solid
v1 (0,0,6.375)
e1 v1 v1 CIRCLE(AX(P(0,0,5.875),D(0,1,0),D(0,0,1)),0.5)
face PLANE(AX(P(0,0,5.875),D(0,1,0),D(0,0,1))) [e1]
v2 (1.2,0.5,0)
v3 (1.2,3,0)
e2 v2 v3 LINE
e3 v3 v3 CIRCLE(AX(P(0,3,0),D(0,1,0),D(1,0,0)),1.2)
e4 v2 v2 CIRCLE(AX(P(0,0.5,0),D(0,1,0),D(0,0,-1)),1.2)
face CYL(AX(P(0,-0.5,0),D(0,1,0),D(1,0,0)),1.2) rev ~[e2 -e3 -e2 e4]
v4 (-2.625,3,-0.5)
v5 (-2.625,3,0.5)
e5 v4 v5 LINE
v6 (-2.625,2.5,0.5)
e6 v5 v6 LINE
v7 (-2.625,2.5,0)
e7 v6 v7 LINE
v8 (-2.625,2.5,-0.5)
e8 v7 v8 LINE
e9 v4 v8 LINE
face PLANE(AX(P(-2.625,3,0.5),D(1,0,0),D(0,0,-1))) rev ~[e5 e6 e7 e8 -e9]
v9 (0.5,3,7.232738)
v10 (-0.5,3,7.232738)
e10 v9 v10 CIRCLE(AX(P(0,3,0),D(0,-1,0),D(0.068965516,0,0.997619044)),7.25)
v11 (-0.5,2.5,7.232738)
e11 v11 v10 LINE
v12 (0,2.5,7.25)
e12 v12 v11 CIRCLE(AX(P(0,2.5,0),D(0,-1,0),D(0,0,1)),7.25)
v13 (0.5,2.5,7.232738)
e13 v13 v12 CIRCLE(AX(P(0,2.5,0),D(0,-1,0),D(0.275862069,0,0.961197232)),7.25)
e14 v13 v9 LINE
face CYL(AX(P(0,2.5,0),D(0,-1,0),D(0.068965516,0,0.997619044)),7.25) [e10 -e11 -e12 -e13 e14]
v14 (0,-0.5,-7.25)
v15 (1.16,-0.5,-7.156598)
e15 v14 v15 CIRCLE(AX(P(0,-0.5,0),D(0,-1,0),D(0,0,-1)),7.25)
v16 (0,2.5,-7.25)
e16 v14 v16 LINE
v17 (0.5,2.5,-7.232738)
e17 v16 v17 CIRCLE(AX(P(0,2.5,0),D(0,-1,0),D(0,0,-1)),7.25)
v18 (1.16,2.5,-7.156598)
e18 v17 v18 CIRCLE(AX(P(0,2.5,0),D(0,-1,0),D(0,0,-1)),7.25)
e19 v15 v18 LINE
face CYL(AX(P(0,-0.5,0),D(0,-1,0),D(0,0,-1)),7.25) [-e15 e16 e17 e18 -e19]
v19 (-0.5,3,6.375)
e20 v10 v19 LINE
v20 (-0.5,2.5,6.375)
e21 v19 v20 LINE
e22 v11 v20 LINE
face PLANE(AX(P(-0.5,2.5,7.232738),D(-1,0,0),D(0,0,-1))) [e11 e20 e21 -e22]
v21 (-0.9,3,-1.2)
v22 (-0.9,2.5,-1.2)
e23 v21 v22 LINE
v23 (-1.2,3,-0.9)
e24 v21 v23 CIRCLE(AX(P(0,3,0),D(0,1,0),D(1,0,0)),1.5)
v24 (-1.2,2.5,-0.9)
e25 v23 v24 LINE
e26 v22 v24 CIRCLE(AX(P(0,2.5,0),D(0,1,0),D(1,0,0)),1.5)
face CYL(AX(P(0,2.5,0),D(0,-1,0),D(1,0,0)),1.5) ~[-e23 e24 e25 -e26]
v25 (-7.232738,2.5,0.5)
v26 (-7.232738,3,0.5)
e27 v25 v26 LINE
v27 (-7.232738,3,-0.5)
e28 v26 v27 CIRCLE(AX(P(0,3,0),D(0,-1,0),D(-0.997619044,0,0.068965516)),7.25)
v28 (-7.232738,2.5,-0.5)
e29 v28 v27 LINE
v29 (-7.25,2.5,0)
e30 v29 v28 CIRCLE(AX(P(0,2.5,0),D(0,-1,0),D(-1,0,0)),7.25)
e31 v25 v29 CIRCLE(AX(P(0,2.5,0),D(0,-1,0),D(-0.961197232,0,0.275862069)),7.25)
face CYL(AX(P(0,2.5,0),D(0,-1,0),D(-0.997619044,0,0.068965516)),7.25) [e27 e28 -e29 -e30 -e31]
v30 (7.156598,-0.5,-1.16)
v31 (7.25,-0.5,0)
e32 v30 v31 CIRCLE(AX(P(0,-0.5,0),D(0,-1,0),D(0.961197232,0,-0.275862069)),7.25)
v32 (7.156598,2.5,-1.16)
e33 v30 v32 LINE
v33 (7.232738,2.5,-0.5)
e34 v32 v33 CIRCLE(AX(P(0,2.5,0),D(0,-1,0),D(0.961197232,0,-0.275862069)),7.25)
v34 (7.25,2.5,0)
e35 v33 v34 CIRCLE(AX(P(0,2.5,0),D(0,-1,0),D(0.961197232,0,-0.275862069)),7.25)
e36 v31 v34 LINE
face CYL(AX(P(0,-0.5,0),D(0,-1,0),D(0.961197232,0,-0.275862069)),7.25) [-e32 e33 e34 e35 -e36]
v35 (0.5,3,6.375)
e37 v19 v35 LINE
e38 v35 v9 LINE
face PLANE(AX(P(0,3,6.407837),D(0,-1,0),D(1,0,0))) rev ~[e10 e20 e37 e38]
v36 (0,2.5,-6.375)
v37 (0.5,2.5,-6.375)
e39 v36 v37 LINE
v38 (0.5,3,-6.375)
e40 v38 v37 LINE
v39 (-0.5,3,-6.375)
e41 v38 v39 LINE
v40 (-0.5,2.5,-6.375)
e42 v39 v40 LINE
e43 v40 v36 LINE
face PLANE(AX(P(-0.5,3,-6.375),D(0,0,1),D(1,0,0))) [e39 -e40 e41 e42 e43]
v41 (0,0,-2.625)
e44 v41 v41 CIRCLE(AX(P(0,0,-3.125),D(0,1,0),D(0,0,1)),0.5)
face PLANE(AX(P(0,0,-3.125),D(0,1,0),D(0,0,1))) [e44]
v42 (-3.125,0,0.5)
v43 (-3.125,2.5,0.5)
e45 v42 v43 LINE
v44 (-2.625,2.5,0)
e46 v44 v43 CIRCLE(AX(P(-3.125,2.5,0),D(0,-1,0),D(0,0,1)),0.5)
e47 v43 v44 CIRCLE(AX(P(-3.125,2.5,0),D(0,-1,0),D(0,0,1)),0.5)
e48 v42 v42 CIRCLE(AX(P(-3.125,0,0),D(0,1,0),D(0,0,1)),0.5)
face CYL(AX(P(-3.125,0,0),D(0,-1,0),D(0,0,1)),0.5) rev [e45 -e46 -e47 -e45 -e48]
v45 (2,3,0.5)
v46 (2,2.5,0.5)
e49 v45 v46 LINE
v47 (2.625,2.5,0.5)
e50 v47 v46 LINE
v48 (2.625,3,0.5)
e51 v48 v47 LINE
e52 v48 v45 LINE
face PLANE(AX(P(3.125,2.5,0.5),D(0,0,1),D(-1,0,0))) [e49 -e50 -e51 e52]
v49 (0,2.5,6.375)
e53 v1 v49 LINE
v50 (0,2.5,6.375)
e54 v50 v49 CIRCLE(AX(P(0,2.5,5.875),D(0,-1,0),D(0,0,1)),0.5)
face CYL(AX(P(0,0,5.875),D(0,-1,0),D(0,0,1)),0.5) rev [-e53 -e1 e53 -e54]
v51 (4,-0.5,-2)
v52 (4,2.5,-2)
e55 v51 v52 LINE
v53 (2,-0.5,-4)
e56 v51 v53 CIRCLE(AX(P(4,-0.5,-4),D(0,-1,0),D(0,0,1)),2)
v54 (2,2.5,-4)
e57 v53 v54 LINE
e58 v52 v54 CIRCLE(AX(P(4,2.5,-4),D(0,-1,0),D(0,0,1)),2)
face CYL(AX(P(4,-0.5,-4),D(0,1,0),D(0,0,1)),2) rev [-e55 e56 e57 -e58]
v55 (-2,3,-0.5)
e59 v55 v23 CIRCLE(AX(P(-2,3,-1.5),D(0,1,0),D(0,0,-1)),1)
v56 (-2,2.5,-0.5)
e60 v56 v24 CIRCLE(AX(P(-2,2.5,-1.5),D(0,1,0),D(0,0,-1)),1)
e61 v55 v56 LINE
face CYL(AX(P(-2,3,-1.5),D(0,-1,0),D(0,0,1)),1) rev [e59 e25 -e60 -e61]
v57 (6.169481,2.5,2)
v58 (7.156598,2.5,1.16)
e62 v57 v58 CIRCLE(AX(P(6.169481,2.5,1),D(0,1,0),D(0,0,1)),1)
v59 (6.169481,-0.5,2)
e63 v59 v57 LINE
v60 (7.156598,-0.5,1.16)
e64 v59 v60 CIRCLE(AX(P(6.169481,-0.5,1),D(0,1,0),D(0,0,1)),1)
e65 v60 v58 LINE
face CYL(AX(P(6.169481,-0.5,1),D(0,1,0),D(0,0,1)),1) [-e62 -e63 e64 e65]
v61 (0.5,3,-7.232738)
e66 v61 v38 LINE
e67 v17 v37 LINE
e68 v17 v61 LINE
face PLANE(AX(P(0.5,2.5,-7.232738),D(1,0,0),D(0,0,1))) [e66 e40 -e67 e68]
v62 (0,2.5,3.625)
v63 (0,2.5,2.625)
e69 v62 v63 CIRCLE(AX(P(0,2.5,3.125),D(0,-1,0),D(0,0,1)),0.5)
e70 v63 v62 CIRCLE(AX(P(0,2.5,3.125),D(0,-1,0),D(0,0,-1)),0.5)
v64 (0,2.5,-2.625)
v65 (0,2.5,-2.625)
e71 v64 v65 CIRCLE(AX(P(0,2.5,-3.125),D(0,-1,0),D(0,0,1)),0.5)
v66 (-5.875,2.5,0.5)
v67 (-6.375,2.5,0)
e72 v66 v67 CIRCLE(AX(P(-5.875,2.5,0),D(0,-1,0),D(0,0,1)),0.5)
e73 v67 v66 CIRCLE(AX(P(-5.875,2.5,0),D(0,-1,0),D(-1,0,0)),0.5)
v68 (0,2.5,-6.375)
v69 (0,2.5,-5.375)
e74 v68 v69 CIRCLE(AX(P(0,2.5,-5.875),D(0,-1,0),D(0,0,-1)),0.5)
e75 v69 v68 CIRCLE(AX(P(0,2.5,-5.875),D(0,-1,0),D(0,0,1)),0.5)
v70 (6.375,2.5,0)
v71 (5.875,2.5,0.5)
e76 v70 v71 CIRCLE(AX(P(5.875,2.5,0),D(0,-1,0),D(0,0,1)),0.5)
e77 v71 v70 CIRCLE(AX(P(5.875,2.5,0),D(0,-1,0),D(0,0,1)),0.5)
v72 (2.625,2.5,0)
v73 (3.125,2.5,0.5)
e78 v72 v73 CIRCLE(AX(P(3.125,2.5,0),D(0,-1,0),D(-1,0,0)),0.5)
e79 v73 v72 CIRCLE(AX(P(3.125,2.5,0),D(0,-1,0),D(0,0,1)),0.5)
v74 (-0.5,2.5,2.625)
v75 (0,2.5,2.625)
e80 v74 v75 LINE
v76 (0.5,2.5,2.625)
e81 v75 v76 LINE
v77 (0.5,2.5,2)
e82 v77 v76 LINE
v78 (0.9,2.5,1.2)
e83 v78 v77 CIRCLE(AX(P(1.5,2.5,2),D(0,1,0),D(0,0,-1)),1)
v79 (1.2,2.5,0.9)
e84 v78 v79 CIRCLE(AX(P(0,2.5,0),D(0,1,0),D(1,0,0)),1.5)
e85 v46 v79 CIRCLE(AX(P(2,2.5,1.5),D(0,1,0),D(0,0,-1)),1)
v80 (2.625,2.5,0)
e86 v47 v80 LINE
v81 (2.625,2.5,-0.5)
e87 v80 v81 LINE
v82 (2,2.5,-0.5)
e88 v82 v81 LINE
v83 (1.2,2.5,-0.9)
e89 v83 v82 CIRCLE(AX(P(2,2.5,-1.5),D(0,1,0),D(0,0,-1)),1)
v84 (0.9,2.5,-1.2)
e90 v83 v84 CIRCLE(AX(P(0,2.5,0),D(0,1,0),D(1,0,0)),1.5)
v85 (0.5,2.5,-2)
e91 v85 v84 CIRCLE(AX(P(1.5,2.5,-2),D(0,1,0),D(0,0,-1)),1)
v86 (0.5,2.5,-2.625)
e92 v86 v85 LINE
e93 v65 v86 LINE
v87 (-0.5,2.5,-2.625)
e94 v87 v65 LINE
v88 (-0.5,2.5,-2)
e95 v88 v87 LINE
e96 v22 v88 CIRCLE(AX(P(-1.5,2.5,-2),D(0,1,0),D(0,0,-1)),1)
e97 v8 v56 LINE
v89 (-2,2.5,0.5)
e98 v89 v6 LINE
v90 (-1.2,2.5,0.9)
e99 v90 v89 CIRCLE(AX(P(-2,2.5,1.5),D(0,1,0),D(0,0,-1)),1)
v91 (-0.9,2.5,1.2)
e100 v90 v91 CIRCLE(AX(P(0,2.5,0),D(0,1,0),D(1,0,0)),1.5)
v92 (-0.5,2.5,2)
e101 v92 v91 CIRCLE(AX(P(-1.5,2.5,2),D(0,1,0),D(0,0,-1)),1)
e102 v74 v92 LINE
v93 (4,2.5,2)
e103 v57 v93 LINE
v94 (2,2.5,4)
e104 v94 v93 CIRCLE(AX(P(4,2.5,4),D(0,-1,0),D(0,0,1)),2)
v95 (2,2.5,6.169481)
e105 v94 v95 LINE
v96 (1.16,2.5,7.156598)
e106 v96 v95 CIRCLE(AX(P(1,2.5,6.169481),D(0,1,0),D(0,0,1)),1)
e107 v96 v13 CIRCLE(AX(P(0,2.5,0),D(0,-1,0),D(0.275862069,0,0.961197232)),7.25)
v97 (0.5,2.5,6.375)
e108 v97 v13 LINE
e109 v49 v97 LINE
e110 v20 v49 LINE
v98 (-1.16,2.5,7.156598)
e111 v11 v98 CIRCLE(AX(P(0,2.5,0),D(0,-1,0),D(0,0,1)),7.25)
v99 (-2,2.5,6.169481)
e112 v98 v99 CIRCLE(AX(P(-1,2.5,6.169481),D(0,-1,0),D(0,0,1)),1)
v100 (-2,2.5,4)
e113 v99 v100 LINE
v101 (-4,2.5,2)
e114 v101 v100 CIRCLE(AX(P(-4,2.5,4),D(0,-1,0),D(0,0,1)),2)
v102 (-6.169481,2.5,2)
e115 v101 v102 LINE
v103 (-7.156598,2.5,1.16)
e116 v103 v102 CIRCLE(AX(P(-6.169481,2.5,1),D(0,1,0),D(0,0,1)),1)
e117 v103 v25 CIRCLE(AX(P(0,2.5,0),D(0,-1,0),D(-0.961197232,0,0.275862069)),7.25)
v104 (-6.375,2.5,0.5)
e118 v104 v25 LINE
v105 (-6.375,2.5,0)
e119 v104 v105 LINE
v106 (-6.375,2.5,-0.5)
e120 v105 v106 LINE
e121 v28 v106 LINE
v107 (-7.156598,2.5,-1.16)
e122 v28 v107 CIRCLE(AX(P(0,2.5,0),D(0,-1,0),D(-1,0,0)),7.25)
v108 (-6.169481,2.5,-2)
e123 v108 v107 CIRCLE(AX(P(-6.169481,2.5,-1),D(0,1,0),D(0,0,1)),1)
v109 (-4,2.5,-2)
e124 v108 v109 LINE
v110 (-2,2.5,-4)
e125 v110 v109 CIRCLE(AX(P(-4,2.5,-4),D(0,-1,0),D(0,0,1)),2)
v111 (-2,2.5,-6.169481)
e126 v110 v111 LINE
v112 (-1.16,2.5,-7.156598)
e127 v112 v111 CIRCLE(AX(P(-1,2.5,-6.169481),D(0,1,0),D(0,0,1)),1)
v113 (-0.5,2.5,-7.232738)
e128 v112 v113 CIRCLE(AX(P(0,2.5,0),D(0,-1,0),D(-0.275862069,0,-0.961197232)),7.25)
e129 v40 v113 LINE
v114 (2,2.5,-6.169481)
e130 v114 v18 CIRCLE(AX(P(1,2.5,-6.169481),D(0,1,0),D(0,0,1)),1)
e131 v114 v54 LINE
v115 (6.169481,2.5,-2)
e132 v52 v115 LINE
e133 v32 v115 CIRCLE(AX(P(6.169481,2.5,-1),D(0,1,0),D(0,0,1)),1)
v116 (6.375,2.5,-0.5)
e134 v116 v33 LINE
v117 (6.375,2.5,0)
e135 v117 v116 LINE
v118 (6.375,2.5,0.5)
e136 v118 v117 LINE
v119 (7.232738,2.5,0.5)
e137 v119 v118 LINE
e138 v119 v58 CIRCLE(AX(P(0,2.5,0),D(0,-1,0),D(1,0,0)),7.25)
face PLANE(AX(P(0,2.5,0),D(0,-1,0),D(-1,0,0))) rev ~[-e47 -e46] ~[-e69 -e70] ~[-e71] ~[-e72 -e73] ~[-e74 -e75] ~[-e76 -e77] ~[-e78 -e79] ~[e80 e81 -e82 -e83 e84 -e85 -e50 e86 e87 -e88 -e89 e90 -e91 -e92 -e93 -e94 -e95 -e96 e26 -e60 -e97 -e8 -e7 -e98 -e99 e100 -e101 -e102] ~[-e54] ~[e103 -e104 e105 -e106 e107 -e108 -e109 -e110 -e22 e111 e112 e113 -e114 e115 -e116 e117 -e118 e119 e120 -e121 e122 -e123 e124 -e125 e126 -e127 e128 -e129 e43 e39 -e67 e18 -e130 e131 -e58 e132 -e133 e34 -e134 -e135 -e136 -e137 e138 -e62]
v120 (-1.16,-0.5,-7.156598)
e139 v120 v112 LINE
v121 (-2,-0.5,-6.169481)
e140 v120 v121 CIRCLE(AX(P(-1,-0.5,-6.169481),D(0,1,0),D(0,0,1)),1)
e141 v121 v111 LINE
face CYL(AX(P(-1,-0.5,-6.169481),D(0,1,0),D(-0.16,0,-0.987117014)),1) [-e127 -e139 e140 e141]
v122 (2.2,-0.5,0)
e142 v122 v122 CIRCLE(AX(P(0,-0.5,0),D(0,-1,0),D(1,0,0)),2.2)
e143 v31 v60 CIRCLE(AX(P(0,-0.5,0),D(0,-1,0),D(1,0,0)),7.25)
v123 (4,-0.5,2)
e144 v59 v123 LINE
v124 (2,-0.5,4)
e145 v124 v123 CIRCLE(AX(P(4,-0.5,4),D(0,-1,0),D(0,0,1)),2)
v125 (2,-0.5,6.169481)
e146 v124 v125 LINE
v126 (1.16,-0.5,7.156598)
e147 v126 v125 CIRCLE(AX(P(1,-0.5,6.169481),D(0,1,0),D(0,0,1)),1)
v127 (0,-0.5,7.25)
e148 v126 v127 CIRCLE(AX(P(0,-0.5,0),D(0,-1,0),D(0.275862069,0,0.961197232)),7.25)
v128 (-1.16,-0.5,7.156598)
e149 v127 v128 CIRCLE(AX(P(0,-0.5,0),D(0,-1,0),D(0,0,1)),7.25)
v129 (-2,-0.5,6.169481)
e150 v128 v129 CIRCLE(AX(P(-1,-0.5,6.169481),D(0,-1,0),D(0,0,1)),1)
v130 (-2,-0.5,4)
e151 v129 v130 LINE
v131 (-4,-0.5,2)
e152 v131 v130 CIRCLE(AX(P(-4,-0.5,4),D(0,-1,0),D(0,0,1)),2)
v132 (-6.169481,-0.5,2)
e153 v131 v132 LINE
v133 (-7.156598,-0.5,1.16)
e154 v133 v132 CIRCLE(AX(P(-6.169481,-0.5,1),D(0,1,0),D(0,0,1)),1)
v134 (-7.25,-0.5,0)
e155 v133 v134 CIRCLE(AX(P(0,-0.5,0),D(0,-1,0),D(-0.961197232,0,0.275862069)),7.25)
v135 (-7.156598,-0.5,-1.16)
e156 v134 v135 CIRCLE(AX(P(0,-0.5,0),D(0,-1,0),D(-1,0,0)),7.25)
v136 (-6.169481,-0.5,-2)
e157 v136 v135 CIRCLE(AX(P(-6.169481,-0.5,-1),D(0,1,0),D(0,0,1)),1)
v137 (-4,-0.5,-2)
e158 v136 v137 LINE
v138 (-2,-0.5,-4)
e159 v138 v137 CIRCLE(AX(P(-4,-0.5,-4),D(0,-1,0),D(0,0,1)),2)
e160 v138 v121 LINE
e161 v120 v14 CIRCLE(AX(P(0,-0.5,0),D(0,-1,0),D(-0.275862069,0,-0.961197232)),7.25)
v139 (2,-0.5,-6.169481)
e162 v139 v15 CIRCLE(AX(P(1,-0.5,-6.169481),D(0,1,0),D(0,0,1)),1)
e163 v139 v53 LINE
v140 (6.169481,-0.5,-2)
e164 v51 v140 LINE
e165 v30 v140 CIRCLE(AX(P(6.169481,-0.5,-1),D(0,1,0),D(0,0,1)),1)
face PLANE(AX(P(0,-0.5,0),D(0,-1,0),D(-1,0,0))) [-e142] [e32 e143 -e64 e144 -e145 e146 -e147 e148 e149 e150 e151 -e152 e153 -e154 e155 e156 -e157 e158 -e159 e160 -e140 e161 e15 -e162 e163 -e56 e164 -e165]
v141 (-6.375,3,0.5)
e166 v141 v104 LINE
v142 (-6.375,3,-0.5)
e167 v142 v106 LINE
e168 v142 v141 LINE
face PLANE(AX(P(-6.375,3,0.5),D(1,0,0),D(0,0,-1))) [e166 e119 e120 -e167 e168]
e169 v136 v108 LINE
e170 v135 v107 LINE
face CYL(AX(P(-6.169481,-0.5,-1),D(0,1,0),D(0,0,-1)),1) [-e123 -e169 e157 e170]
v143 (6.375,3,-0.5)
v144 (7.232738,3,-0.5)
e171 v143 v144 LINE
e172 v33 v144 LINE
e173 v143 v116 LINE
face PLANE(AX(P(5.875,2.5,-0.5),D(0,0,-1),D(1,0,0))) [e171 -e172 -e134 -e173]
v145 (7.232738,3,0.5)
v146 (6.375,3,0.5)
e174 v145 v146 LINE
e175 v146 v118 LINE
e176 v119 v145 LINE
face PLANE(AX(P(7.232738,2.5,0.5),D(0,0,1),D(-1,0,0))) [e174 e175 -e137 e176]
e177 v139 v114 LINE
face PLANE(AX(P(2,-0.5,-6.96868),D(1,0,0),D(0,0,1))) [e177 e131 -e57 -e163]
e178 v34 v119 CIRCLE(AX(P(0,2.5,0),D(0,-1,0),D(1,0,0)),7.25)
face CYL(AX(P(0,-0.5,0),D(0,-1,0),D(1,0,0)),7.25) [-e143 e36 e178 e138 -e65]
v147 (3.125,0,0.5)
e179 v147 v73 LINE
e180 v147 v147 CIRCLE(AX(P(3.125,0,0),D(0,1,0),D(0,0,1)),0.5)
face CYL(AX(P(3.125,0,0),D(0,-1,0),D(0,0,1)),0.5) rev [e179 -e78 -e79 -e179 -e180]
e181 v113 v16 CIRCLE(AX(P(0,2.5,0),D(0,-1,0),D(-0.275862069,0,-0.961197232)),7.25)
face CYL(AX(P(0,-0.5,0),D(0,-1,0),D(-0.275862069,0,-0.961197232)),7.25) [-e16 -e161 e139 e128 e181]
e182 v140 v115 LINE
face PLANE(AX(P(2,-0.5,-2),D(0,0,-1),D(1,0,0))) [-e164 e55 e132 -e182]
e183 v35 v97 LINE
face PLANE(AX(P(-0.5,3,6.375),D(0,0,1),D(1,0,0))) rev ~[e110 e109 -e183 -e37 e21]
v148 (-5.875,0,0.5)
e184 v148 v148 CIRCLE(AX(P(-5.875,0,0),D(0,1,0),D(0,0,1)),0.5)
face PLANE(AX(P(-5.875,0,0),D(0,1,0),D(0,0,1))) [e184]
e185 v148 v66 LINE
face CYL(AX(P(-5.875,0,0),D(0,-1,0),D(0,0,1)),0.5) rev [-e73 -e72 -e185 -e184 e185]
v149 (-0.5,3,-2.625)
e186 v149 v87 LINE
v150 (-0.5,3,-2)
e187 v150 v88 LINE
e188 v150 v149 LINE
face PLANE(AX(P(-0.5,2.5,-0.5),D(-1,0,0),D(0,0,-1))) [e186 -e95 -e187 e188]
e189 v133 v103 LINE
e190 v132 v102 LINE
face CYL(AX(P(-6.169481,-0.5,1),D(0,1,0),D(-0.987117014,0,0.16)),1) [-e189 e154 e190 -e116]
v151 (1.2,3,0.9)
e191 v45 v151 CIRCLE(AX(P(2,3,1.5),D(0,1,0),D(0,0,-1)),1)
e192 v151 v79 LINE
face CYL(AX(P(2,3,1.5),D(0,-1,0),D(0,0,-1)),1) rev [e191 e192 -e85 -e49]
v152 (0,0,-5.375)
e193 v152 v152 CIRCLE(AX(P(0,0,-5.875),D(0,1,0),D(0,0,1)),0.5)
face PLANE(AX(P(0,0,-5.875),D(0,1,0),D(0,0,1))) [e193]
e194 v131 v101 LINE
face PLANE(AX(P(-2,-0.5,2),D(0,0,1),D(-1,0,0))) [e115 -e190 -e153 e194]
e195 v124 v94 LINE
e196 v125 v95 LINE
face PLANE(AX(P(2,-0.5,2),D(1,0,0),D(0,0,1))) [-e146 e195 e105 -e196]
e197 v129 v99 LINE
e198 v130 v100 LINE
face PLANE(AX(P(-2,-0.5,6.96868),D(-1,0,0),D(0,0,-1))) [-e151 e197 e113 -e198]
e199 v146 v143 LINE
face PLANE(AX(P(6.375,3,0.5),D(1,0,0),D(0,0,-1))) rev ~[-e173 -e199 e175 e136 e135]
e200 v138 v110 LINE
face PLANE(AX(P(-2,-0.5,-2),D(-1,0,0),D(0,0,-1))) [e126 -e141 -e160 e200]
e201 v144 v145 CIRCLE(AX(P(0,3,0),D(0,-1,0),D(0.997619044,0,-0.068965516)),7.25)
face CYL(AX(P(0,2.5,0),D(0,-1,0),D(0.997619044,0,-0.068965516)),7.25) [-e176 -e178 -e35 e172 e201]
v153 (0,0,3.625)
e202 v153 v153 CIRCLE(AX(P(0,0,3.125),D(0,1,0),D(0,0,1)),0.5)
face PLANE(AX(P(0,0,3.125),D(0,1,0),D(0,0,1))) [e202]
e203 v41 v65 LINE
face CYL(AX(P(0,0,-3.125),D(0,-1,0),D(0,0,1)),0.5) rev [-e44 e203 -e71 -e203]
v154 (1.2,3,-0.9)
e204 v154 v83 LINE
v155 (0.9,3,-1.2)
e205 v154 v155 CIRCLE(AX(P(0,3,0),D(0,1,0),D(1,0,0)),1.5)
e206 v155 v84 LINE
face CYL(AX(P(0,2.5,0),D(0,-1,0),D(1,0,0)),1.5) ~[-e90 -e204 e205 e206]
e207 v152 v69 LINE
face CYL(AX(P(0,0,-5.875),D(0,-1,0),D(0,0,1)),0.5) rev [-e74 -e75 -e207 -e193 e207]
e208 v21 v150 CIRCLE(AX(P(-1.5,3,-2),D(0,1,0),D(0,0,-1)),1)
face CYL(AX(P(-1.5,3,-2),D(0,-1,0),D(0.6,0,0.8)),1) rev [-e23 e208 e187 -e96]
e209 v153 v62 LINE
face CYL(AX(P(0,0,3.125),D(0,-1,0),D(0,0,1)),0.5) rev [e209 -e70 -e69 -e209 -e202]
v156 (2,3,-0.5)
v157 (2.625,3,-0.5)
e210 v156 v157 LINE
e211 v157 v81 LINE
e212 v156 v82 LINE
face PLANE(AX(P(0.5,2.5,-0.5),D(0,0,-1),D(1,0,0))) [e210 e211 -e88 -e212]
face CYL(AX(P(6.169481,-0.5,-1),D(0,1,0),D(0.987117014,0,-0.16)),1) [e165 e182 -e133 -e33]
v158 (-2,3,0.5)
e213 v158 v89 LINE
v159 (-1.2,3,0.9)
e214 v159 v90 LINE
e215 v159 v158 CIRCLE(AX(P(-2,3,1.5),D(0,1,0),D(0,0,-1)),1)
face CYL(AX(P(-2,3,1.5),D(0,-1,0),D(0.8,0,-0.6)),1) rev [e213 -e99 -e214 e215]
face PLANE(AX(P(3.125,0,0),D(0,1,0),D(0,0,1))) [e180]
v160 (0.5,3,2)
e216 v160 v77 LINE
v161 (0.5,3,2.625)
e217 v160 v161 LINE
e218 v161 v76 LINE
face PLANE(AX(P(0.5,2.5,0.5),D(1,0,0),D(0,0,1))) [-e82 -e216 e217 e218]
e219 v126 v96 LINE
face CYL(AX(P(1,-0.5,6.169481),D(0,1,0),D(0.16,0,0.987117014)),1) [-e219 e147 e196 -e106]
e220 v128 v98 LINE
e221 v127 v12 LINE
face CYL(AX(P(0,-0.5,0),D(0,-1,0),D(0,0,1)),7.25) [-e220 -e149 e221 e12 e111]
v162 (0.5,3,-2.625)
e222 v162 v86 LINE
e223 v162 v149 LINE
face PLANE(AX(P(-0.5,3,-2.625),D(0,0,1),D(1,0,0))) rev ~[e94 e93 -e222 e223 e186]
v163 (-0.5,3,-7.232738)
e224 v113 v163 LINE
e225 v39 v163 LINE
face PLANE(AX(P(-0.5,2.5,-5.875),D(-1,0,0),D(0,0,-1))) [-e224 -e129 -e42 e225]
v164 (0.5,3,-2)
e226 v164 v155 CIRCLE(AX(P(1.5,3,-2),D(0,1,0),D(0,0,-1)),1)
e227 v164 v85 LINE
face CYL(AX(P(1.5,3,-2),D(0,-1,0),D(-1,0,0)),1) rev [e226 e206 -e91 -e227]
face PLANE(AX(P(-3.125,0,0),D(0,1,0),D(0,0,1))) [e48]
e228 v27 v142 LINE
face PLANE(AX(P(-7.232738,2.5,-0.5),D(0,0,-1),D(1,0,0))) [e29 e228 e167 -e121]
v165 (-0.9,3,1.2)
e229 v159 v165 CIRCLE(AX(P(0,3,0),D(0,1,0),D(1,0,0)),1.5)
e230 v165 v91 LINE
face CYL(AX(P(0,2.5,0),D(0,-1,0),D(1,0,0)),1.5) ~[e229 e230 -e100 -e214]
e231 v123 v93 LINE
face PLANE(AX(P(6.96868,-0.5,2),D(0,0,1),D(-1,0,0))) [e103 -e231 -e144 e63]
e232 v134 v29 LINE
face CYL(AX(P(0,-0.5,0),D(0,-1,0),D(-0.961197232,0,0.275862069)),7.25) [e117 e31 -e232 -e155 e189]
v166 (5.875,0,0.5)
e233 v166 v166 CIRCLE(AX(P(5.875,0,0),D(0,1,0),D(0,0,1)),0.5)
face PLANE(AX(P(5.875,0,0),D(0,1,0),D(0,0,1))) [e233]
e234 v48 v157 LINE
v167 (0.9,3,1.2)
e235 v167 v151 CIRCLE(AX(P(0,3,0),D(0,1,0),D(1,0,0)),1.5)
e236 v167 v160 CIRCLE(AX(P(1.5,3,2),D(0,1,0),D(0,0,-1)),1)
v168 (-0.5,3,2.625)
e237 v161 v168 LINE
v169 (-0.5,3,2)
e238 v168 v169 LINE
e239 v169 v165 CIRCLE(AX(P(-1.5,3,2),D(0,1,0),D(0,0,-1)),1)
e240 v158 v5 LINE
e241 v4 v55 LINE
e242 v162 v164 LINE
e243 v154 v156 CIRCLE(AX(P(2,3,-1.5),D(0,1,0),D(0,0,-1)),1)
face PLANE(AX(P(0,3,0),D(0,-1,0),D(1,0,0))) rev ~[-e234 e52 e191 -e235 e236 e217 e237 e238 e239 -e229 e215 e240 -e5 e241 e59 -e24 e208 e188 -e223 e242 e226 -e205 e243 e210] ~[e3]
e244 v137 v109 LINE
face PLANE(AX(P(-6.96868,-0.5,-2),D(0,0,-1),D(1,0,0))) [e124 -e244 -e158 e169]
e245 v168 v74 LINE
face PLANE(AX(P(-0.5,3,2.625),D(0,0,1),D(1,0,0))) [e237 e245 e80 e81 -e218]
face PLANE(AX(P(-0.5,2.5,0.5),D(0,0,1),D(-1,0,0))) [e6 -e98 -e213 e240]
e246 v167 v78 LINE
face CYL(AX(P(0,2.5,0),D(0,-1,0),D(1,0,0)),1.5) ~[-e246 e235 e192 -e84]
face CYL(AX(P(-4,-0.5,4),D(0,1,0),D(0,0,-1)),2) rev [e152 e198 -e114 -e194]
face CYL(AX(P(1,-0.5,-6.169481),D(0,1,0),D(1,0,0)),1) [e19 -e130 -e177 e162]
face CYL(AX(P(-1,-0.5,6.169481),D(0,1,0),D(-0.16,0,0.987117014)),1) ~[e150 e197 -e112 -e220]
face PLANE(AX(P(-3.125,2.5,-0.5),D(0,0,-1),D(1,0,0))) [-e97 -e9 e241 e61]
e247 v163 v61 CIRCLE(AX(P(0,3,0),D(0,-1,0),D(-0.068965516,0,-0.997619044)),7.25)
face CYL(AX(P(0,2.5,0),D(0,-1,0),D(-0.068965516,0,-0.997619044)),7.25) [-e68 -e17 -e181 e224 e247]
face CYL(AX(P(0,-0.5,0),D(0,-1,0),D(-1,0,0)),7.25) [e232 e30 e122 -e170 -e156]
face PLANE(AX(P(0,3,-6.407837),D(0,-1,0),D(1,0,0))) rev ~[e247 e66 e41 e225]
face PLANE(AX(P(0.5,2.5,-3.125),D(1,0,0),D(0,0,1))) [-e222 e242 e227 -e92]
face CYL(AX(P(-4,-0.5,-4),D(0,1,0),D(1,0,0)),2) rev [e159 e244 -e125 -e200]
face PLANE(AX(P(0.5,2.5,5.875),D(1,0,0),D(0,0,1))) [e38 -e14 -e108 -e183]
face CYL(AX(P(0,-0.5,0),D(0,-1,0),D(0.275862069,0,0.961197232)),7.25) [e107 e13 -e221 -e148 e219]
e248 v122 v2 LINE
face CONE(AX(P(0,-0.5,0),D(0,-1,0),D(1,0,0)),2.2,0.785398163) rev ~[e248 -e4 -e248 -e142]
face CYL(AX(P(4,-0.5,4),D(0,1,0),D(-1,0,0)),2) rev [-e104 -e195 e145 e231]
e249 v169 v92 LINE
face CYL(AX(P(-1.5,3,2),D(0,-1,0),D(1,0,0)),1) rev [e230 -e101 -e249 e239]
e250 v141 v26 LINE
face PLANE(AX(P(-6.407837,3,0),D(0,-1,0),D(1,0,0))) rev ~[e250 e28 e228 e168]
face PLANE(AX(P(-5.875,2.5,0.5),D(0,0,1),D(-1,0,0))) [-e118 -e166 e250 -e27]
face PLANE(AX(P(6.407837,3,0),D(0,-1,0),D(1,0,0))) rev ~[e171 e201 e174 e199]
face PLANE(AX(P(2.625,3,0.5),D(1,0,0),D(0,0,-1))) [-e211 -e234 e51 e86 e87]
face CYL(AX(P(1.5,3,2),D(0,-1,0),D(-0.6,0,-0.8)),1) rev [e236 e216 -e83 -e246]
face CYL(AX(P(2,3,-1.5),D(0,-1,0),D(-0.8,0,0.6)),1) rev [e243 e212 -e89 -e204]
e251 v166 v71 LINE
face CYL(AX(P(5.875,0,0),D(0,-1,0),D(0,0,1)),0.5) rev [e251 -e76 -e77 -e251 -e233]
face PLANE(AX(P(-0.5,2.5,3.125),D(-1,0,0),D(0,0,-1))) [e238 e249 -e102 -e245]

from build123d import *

# Parameters (mm, degrees)
BOSS_EXTRUDE1_DEPTH                             = 2.5
BOSS_EXTRUDE1_DEPTH_BACK                        = 0.5
BOSS_EXTRUDE2_DEPTH                             = 0.5
FILLET1_R                                       = 1
CUT_EXTRUDE1_START                              = -3
SKETCH5_R                                       = 0.5
CUT_EXTRUDE1_DEPTH                              = 3
SKETCH10_W                                      = 1
SKETCH10_H                                      = 3.75
SKETCH10_W_2                                    = 3.75
SKETCH10_H_2                                    = 1
CUT_EXTRUDE2_DEPTH                              = 0.5
SKETCH17_R                                      = 1.5
BOSS_EXTRUDE3_DEPTH                             = 0.5
CSK_FOR_M2_FLAT_HEAD_MACHINE_SCREW1_D           = 2.4
CSK_FOR_M2_FLAT_HEAD_MACHINE_SCREW1_DEPTH       = 6
CSK_FOR_M2_FLAT_HEAD_MACHINE_SCREW1_CSINK_D     = 4.4
CSK_FOR_M2_FLAT_HEAD_MACHINE_SCREW1_CSINK_ANGLE = 90
CSK_FOR_M2_FLAT_HEAD_MACHINE_SCREW1_TIP         = 0.721032743
FILLET2_R                                       = 2
FILLET3_R                                       = 1


with BuildPart() as part:
    # Sketch3 → Boss-Extrude1 (new, two sides: drawn at the far end of the back side and taken through both)
    with BuildSketch(Plane(origin=(0, 0, 0), x_dir=(1, 0, 0), z_dir=(0, 1, 0)).offset(-BOSS_EXTRUDE1_DEPTH_BACK)):
        with BuildLine():
            Line((-2, -6.968679932), (-2, -2))
            Line((-2, -2), (-6.968679932, -2))
            ThreePointArc((-6.968679932, -2), (-7.179325508, -1.009844169), (-7.25, 0))
            ThreePointArc((-7.25, 0), (-7.179325508, 1.009844169), (-6.968679932, 2))
            Line((-6.968679932, 2), (-2, 2))
            Line((-2, 2), (-2, 6.968679932))
            ThreePointArc((-2, 6.968679932), (-1.009844169, 7.179325508), (0, 7.25))
            ThreePointArc((0, 7.25), (1.009844169, 7.179325508), (2, 6.968679932))
            Line((2, 6.968679932), (2, 2))
            Line((2, 2), (6.968679932, 2))
            ThreePointArc((6.968679932, 2), (7.179325508, 1.009844169), (7.25, 0))
            ThreePointArc((7.25, 0), (7.179325508, -1.009844169), (6.968679932, -2))
            Line((6.968679932, -2), (2, -2))
            Line((2, -2), (2, -6.968679932))
            ThreePointArc((2, -6.968679932), (1.009844169, -7.179325508), (0, -7.25))
            ThreePointArc((0, -7.25), (-1.009844169, -7.179325508), (-2, -6.968679932))
        make_face()
    extrude(amount=BOSS_EXTRUDE1_DEPTH + BOSS_EXTRUDE1_DEPTH_BACK)

    # Sketch4 → Boss-Extrude2 (add)
    with BuildSketch(Plane(origin=(0, 2.5, 0), x_dir=(-1, 0, 0), z_dir=(0, 1, 0))):
        with BuildLine():
            Line((-0.5, 5.875), (-0.5, 7.232738071))
            ThreePointArc((-0.5, 7.232738071), (0, 7.25), (0.5, 7.232738071))
            Line((0.5, 7.232738071), (0.5, 5.875))
            ThreePointArc((0.5, 5.875), (0, 5.375), (-0.5, 5.875))
        make_face()
        with BuildLine():
            Line((0.5, 3.125), (0.5, 0.5))
            Line((0.5, 0.5), (3.125, 0.5))
            ThreePointArc((3.125, 0.5), (3.625, 0), (3.125, -0.5))
            Line((3.125, -0.5), (0.5, -0.5))
            Line((0.5, -0.5), (0.5, -3.125))
            ThreePointArc((0.5, -3.125), (0, -3.625), (-0.5, -3.125))
            Line((-0.5, -3.125), (-0.5, -0.5))
            Line((-0.5, -0.5), (-3.125, -0.5))
            ThreePointArc((-3.125, -0.5), (-3.625, 0), (-3.125, 0.5))
            Line((-3.125, 0.5), (-0.5, 0.5))
            Line((-0.5, 0.5), (-0.5, 3.125))
            ThreePointArc((-0.5, 3.125), (0, 3.625), (0.5, 3.125))
        make_face()
        with BuildLine():
            Line((5.875, 0.5), (7.232738071, 0.5))
            ThreePointArc((7.232738071, 0.5), (7.25, 0), (7.232738071, -0.5))
            Line((7.232738071, -0.5), (5.875, -0.5))
            ThreePointArc((5.875, -0.5), (5.375, 0), (5.875, 0.5))
        make_face()
        with BuildLine():
            Line((0.5, -5.875), (0.5, -7.232738071))
            ThreePointArc((0.5, -7.232738071), (0, -7.25), (-0.5, -7.232738071))
            Line((-0.5, -7.232738071), (-0.5, -5.875))
            ThreePointArc((-0.5, -5.875), (0, -5.375), (0.5, -5.875))
        make_face()
        with BuildLine():
            Line((-5.875, -0.5), (-7.232738071, -0.5))
            ThreePointArc((-7.232738071, -0.5), (-7.25, 0), (-7.232738071, 0.5))
            Line((-7.232738071, 0.5), (-5.875, 0.5))
            ThreePointArc((-5.875, 0.5), (-5.375, 0), (-5.875, -0.5))
        make_face()
    extrude(amount=BOSS_EXTRUDE2_DEPTH)

    # Fillet1
    fillet1_edges = [part.edges().sort_by_distance(p)[0] for p in [
        (-2, 1, 6.968679932),
        (-6.968679932, 1, 2),
        (-6.968679932, 1, -2),
        (-2, 1, -6.968679932),
        (2, 1, -6.968679932),
        (6.968679932, 1, -2),
        (6.968679932, 1, 2),
        (2, 1, 6.968679932),
    ]]
    fillet(fillet1_edges, radius=FILLET1_R)

    # Sketch5 → Cut-Extrude1 (cut)
    with BuildSketch(Plane(origin=(0, 3, 0), x_dir=(-1, 0, 0), z_dir=(0, 1, 0)).offset(CUT_EXTRUDE1_START)):
        with Locations(Location((0, 5.875, 0), (0, 0, 90))):
            Circle(SKETCH5_R)
        with Locations(Location((0, 3.125, 0), (0, 0, 90))):
            Circle(SKETCH5_R)
        with Locations(Location((5.875, 0, 0), (0, 0, 90))):
            Circle(SKETCH5_R)
        with Locations(Location((3.125, 0, 0), (0, 0, 90))):
            Circle(SKETCH5_R)
        with Locations(Location((0, -5.875, 0), (0, 0, 90))):
            Circle(SKETCH5_R)
        with Locations(Location((0, -3.125, 0), (0, 0, 90))):
            Circle(SKETCH5_R)
        with Locations(Location((-5.875, 0, 0), (0, 0, 90))):
            Circle(SKETCH5_R)
        with Locations(Location((-3.125, 0, 0), (0, 0, 90))):
            Circle(SKETCH5_R)
    extrude(amount=CUT_EXTRUDE1_DEPTH, mode=Mode.SUBTRACT)

    # Sketch10 → Cut-Extrude2 (cut)
    with BuildSketch(Plane(origin=(0, 3, 0), x_dir=(1, 0, 0), z_dir=(0, 1, 0))):
        with Locations((0, -4.5)):
            Rectangle(SKETCH10_W, SKETCH10_H)
        with Locations((-4.5, 0)):
            Rectangle(SKETCH10_W_2, SKETCH10_H_2)
        with Locations((0, 4.5)):
            Rectangle(SKETCH10_W, SKETCH10_H)
        with Locations((4.5, 0)):
            Rectangle(SKETCH10_W_2, SKETCH10_H_2)
    extrude(amount=-CUT_EXTRUDE2_DEPTH, mode=Mode.SUBTRACT)

    # Sketch17 → Boss-Extrude3 (add)
    with BuildSketch(Plane(origin=(0, 2.5, 0), x_dir=(1, 0, 0), z_dir=(0, 1, 0))):
        Circle(SKETCH17_R)
    extrude(amount=BOSS_EXTRUDE3_DEPTH)

    # CSK for M2 Flat Head Machine Screw1
    with Locations(Plane(origin=(0, -0.5, 0), x_dir=(-1, 0, 0), z_dir=(0, -1, 0))):
        with Locations((0, 0)):
            CounterSinkHole(CSK_FOR_M2_FLAT_HEAD_MACHINE_SCREW1_D / 2, CSK_FOR_M2_FLAT_HEAD_MACHINE_SCREW1_CSINK_D / 2, depth=CSK_FOR_M2_FLAT_HEAD_MACHINE_SCREW1_DEPTH, counter_sink_angle=CSK_FOR_M2_FLAT_HEAD_MACHINE_SCREW1_CSINK_ANGLE)
            with Locations((0, 0, -(CSK_FOR_M2_FLAT_HEAD_MACHINE_SCREW1_DEPTH + CSK_FOR_M2_FLAT_HEAD_MACHINE_SCREW1_TIP / 2))):  # 118° drill point
                Cone(0, CSK_FOR_M2_FLAT_HEAD_MACHINE_SCREW1_D / 2, CSK_FOR_M2_FLAT_HEAD_MACHINE_SCREW1_TIP, mode=Mode.SUBTRACT)

    # Fillet2
    fillet2_edges = [part.edges().sort_by_distance(p)[0] for p in [
        (-2, 1, 2),
        (-2, 1, -2),
        (2, 1, -2),
        (2, 1, 2),
    ]]
    fillet(fillet2_edges, radius=FILLET2_R)

    # Fillet3
    fillet3_edges = [part.edges().sort_by_distance(p)[0] for p in [
        (0.5, 2.75, 1.414213562),
        (1.414213562, 2.75, 0.5),
        (1.414213562, 2.75, -0.5),
        (0.5, 2.75, -1.414213562),
        (-0.5, 2.75, -1.414213562),
        (-1.414213562, 2.75, -0.5),
        (-1.414213562, 2.75, 0.5),
        (-0.5, 2.75, 1.414213562),
    ]]
    fillet(fillet3_edges, radius=FILLET3_R)


solid = part.part
